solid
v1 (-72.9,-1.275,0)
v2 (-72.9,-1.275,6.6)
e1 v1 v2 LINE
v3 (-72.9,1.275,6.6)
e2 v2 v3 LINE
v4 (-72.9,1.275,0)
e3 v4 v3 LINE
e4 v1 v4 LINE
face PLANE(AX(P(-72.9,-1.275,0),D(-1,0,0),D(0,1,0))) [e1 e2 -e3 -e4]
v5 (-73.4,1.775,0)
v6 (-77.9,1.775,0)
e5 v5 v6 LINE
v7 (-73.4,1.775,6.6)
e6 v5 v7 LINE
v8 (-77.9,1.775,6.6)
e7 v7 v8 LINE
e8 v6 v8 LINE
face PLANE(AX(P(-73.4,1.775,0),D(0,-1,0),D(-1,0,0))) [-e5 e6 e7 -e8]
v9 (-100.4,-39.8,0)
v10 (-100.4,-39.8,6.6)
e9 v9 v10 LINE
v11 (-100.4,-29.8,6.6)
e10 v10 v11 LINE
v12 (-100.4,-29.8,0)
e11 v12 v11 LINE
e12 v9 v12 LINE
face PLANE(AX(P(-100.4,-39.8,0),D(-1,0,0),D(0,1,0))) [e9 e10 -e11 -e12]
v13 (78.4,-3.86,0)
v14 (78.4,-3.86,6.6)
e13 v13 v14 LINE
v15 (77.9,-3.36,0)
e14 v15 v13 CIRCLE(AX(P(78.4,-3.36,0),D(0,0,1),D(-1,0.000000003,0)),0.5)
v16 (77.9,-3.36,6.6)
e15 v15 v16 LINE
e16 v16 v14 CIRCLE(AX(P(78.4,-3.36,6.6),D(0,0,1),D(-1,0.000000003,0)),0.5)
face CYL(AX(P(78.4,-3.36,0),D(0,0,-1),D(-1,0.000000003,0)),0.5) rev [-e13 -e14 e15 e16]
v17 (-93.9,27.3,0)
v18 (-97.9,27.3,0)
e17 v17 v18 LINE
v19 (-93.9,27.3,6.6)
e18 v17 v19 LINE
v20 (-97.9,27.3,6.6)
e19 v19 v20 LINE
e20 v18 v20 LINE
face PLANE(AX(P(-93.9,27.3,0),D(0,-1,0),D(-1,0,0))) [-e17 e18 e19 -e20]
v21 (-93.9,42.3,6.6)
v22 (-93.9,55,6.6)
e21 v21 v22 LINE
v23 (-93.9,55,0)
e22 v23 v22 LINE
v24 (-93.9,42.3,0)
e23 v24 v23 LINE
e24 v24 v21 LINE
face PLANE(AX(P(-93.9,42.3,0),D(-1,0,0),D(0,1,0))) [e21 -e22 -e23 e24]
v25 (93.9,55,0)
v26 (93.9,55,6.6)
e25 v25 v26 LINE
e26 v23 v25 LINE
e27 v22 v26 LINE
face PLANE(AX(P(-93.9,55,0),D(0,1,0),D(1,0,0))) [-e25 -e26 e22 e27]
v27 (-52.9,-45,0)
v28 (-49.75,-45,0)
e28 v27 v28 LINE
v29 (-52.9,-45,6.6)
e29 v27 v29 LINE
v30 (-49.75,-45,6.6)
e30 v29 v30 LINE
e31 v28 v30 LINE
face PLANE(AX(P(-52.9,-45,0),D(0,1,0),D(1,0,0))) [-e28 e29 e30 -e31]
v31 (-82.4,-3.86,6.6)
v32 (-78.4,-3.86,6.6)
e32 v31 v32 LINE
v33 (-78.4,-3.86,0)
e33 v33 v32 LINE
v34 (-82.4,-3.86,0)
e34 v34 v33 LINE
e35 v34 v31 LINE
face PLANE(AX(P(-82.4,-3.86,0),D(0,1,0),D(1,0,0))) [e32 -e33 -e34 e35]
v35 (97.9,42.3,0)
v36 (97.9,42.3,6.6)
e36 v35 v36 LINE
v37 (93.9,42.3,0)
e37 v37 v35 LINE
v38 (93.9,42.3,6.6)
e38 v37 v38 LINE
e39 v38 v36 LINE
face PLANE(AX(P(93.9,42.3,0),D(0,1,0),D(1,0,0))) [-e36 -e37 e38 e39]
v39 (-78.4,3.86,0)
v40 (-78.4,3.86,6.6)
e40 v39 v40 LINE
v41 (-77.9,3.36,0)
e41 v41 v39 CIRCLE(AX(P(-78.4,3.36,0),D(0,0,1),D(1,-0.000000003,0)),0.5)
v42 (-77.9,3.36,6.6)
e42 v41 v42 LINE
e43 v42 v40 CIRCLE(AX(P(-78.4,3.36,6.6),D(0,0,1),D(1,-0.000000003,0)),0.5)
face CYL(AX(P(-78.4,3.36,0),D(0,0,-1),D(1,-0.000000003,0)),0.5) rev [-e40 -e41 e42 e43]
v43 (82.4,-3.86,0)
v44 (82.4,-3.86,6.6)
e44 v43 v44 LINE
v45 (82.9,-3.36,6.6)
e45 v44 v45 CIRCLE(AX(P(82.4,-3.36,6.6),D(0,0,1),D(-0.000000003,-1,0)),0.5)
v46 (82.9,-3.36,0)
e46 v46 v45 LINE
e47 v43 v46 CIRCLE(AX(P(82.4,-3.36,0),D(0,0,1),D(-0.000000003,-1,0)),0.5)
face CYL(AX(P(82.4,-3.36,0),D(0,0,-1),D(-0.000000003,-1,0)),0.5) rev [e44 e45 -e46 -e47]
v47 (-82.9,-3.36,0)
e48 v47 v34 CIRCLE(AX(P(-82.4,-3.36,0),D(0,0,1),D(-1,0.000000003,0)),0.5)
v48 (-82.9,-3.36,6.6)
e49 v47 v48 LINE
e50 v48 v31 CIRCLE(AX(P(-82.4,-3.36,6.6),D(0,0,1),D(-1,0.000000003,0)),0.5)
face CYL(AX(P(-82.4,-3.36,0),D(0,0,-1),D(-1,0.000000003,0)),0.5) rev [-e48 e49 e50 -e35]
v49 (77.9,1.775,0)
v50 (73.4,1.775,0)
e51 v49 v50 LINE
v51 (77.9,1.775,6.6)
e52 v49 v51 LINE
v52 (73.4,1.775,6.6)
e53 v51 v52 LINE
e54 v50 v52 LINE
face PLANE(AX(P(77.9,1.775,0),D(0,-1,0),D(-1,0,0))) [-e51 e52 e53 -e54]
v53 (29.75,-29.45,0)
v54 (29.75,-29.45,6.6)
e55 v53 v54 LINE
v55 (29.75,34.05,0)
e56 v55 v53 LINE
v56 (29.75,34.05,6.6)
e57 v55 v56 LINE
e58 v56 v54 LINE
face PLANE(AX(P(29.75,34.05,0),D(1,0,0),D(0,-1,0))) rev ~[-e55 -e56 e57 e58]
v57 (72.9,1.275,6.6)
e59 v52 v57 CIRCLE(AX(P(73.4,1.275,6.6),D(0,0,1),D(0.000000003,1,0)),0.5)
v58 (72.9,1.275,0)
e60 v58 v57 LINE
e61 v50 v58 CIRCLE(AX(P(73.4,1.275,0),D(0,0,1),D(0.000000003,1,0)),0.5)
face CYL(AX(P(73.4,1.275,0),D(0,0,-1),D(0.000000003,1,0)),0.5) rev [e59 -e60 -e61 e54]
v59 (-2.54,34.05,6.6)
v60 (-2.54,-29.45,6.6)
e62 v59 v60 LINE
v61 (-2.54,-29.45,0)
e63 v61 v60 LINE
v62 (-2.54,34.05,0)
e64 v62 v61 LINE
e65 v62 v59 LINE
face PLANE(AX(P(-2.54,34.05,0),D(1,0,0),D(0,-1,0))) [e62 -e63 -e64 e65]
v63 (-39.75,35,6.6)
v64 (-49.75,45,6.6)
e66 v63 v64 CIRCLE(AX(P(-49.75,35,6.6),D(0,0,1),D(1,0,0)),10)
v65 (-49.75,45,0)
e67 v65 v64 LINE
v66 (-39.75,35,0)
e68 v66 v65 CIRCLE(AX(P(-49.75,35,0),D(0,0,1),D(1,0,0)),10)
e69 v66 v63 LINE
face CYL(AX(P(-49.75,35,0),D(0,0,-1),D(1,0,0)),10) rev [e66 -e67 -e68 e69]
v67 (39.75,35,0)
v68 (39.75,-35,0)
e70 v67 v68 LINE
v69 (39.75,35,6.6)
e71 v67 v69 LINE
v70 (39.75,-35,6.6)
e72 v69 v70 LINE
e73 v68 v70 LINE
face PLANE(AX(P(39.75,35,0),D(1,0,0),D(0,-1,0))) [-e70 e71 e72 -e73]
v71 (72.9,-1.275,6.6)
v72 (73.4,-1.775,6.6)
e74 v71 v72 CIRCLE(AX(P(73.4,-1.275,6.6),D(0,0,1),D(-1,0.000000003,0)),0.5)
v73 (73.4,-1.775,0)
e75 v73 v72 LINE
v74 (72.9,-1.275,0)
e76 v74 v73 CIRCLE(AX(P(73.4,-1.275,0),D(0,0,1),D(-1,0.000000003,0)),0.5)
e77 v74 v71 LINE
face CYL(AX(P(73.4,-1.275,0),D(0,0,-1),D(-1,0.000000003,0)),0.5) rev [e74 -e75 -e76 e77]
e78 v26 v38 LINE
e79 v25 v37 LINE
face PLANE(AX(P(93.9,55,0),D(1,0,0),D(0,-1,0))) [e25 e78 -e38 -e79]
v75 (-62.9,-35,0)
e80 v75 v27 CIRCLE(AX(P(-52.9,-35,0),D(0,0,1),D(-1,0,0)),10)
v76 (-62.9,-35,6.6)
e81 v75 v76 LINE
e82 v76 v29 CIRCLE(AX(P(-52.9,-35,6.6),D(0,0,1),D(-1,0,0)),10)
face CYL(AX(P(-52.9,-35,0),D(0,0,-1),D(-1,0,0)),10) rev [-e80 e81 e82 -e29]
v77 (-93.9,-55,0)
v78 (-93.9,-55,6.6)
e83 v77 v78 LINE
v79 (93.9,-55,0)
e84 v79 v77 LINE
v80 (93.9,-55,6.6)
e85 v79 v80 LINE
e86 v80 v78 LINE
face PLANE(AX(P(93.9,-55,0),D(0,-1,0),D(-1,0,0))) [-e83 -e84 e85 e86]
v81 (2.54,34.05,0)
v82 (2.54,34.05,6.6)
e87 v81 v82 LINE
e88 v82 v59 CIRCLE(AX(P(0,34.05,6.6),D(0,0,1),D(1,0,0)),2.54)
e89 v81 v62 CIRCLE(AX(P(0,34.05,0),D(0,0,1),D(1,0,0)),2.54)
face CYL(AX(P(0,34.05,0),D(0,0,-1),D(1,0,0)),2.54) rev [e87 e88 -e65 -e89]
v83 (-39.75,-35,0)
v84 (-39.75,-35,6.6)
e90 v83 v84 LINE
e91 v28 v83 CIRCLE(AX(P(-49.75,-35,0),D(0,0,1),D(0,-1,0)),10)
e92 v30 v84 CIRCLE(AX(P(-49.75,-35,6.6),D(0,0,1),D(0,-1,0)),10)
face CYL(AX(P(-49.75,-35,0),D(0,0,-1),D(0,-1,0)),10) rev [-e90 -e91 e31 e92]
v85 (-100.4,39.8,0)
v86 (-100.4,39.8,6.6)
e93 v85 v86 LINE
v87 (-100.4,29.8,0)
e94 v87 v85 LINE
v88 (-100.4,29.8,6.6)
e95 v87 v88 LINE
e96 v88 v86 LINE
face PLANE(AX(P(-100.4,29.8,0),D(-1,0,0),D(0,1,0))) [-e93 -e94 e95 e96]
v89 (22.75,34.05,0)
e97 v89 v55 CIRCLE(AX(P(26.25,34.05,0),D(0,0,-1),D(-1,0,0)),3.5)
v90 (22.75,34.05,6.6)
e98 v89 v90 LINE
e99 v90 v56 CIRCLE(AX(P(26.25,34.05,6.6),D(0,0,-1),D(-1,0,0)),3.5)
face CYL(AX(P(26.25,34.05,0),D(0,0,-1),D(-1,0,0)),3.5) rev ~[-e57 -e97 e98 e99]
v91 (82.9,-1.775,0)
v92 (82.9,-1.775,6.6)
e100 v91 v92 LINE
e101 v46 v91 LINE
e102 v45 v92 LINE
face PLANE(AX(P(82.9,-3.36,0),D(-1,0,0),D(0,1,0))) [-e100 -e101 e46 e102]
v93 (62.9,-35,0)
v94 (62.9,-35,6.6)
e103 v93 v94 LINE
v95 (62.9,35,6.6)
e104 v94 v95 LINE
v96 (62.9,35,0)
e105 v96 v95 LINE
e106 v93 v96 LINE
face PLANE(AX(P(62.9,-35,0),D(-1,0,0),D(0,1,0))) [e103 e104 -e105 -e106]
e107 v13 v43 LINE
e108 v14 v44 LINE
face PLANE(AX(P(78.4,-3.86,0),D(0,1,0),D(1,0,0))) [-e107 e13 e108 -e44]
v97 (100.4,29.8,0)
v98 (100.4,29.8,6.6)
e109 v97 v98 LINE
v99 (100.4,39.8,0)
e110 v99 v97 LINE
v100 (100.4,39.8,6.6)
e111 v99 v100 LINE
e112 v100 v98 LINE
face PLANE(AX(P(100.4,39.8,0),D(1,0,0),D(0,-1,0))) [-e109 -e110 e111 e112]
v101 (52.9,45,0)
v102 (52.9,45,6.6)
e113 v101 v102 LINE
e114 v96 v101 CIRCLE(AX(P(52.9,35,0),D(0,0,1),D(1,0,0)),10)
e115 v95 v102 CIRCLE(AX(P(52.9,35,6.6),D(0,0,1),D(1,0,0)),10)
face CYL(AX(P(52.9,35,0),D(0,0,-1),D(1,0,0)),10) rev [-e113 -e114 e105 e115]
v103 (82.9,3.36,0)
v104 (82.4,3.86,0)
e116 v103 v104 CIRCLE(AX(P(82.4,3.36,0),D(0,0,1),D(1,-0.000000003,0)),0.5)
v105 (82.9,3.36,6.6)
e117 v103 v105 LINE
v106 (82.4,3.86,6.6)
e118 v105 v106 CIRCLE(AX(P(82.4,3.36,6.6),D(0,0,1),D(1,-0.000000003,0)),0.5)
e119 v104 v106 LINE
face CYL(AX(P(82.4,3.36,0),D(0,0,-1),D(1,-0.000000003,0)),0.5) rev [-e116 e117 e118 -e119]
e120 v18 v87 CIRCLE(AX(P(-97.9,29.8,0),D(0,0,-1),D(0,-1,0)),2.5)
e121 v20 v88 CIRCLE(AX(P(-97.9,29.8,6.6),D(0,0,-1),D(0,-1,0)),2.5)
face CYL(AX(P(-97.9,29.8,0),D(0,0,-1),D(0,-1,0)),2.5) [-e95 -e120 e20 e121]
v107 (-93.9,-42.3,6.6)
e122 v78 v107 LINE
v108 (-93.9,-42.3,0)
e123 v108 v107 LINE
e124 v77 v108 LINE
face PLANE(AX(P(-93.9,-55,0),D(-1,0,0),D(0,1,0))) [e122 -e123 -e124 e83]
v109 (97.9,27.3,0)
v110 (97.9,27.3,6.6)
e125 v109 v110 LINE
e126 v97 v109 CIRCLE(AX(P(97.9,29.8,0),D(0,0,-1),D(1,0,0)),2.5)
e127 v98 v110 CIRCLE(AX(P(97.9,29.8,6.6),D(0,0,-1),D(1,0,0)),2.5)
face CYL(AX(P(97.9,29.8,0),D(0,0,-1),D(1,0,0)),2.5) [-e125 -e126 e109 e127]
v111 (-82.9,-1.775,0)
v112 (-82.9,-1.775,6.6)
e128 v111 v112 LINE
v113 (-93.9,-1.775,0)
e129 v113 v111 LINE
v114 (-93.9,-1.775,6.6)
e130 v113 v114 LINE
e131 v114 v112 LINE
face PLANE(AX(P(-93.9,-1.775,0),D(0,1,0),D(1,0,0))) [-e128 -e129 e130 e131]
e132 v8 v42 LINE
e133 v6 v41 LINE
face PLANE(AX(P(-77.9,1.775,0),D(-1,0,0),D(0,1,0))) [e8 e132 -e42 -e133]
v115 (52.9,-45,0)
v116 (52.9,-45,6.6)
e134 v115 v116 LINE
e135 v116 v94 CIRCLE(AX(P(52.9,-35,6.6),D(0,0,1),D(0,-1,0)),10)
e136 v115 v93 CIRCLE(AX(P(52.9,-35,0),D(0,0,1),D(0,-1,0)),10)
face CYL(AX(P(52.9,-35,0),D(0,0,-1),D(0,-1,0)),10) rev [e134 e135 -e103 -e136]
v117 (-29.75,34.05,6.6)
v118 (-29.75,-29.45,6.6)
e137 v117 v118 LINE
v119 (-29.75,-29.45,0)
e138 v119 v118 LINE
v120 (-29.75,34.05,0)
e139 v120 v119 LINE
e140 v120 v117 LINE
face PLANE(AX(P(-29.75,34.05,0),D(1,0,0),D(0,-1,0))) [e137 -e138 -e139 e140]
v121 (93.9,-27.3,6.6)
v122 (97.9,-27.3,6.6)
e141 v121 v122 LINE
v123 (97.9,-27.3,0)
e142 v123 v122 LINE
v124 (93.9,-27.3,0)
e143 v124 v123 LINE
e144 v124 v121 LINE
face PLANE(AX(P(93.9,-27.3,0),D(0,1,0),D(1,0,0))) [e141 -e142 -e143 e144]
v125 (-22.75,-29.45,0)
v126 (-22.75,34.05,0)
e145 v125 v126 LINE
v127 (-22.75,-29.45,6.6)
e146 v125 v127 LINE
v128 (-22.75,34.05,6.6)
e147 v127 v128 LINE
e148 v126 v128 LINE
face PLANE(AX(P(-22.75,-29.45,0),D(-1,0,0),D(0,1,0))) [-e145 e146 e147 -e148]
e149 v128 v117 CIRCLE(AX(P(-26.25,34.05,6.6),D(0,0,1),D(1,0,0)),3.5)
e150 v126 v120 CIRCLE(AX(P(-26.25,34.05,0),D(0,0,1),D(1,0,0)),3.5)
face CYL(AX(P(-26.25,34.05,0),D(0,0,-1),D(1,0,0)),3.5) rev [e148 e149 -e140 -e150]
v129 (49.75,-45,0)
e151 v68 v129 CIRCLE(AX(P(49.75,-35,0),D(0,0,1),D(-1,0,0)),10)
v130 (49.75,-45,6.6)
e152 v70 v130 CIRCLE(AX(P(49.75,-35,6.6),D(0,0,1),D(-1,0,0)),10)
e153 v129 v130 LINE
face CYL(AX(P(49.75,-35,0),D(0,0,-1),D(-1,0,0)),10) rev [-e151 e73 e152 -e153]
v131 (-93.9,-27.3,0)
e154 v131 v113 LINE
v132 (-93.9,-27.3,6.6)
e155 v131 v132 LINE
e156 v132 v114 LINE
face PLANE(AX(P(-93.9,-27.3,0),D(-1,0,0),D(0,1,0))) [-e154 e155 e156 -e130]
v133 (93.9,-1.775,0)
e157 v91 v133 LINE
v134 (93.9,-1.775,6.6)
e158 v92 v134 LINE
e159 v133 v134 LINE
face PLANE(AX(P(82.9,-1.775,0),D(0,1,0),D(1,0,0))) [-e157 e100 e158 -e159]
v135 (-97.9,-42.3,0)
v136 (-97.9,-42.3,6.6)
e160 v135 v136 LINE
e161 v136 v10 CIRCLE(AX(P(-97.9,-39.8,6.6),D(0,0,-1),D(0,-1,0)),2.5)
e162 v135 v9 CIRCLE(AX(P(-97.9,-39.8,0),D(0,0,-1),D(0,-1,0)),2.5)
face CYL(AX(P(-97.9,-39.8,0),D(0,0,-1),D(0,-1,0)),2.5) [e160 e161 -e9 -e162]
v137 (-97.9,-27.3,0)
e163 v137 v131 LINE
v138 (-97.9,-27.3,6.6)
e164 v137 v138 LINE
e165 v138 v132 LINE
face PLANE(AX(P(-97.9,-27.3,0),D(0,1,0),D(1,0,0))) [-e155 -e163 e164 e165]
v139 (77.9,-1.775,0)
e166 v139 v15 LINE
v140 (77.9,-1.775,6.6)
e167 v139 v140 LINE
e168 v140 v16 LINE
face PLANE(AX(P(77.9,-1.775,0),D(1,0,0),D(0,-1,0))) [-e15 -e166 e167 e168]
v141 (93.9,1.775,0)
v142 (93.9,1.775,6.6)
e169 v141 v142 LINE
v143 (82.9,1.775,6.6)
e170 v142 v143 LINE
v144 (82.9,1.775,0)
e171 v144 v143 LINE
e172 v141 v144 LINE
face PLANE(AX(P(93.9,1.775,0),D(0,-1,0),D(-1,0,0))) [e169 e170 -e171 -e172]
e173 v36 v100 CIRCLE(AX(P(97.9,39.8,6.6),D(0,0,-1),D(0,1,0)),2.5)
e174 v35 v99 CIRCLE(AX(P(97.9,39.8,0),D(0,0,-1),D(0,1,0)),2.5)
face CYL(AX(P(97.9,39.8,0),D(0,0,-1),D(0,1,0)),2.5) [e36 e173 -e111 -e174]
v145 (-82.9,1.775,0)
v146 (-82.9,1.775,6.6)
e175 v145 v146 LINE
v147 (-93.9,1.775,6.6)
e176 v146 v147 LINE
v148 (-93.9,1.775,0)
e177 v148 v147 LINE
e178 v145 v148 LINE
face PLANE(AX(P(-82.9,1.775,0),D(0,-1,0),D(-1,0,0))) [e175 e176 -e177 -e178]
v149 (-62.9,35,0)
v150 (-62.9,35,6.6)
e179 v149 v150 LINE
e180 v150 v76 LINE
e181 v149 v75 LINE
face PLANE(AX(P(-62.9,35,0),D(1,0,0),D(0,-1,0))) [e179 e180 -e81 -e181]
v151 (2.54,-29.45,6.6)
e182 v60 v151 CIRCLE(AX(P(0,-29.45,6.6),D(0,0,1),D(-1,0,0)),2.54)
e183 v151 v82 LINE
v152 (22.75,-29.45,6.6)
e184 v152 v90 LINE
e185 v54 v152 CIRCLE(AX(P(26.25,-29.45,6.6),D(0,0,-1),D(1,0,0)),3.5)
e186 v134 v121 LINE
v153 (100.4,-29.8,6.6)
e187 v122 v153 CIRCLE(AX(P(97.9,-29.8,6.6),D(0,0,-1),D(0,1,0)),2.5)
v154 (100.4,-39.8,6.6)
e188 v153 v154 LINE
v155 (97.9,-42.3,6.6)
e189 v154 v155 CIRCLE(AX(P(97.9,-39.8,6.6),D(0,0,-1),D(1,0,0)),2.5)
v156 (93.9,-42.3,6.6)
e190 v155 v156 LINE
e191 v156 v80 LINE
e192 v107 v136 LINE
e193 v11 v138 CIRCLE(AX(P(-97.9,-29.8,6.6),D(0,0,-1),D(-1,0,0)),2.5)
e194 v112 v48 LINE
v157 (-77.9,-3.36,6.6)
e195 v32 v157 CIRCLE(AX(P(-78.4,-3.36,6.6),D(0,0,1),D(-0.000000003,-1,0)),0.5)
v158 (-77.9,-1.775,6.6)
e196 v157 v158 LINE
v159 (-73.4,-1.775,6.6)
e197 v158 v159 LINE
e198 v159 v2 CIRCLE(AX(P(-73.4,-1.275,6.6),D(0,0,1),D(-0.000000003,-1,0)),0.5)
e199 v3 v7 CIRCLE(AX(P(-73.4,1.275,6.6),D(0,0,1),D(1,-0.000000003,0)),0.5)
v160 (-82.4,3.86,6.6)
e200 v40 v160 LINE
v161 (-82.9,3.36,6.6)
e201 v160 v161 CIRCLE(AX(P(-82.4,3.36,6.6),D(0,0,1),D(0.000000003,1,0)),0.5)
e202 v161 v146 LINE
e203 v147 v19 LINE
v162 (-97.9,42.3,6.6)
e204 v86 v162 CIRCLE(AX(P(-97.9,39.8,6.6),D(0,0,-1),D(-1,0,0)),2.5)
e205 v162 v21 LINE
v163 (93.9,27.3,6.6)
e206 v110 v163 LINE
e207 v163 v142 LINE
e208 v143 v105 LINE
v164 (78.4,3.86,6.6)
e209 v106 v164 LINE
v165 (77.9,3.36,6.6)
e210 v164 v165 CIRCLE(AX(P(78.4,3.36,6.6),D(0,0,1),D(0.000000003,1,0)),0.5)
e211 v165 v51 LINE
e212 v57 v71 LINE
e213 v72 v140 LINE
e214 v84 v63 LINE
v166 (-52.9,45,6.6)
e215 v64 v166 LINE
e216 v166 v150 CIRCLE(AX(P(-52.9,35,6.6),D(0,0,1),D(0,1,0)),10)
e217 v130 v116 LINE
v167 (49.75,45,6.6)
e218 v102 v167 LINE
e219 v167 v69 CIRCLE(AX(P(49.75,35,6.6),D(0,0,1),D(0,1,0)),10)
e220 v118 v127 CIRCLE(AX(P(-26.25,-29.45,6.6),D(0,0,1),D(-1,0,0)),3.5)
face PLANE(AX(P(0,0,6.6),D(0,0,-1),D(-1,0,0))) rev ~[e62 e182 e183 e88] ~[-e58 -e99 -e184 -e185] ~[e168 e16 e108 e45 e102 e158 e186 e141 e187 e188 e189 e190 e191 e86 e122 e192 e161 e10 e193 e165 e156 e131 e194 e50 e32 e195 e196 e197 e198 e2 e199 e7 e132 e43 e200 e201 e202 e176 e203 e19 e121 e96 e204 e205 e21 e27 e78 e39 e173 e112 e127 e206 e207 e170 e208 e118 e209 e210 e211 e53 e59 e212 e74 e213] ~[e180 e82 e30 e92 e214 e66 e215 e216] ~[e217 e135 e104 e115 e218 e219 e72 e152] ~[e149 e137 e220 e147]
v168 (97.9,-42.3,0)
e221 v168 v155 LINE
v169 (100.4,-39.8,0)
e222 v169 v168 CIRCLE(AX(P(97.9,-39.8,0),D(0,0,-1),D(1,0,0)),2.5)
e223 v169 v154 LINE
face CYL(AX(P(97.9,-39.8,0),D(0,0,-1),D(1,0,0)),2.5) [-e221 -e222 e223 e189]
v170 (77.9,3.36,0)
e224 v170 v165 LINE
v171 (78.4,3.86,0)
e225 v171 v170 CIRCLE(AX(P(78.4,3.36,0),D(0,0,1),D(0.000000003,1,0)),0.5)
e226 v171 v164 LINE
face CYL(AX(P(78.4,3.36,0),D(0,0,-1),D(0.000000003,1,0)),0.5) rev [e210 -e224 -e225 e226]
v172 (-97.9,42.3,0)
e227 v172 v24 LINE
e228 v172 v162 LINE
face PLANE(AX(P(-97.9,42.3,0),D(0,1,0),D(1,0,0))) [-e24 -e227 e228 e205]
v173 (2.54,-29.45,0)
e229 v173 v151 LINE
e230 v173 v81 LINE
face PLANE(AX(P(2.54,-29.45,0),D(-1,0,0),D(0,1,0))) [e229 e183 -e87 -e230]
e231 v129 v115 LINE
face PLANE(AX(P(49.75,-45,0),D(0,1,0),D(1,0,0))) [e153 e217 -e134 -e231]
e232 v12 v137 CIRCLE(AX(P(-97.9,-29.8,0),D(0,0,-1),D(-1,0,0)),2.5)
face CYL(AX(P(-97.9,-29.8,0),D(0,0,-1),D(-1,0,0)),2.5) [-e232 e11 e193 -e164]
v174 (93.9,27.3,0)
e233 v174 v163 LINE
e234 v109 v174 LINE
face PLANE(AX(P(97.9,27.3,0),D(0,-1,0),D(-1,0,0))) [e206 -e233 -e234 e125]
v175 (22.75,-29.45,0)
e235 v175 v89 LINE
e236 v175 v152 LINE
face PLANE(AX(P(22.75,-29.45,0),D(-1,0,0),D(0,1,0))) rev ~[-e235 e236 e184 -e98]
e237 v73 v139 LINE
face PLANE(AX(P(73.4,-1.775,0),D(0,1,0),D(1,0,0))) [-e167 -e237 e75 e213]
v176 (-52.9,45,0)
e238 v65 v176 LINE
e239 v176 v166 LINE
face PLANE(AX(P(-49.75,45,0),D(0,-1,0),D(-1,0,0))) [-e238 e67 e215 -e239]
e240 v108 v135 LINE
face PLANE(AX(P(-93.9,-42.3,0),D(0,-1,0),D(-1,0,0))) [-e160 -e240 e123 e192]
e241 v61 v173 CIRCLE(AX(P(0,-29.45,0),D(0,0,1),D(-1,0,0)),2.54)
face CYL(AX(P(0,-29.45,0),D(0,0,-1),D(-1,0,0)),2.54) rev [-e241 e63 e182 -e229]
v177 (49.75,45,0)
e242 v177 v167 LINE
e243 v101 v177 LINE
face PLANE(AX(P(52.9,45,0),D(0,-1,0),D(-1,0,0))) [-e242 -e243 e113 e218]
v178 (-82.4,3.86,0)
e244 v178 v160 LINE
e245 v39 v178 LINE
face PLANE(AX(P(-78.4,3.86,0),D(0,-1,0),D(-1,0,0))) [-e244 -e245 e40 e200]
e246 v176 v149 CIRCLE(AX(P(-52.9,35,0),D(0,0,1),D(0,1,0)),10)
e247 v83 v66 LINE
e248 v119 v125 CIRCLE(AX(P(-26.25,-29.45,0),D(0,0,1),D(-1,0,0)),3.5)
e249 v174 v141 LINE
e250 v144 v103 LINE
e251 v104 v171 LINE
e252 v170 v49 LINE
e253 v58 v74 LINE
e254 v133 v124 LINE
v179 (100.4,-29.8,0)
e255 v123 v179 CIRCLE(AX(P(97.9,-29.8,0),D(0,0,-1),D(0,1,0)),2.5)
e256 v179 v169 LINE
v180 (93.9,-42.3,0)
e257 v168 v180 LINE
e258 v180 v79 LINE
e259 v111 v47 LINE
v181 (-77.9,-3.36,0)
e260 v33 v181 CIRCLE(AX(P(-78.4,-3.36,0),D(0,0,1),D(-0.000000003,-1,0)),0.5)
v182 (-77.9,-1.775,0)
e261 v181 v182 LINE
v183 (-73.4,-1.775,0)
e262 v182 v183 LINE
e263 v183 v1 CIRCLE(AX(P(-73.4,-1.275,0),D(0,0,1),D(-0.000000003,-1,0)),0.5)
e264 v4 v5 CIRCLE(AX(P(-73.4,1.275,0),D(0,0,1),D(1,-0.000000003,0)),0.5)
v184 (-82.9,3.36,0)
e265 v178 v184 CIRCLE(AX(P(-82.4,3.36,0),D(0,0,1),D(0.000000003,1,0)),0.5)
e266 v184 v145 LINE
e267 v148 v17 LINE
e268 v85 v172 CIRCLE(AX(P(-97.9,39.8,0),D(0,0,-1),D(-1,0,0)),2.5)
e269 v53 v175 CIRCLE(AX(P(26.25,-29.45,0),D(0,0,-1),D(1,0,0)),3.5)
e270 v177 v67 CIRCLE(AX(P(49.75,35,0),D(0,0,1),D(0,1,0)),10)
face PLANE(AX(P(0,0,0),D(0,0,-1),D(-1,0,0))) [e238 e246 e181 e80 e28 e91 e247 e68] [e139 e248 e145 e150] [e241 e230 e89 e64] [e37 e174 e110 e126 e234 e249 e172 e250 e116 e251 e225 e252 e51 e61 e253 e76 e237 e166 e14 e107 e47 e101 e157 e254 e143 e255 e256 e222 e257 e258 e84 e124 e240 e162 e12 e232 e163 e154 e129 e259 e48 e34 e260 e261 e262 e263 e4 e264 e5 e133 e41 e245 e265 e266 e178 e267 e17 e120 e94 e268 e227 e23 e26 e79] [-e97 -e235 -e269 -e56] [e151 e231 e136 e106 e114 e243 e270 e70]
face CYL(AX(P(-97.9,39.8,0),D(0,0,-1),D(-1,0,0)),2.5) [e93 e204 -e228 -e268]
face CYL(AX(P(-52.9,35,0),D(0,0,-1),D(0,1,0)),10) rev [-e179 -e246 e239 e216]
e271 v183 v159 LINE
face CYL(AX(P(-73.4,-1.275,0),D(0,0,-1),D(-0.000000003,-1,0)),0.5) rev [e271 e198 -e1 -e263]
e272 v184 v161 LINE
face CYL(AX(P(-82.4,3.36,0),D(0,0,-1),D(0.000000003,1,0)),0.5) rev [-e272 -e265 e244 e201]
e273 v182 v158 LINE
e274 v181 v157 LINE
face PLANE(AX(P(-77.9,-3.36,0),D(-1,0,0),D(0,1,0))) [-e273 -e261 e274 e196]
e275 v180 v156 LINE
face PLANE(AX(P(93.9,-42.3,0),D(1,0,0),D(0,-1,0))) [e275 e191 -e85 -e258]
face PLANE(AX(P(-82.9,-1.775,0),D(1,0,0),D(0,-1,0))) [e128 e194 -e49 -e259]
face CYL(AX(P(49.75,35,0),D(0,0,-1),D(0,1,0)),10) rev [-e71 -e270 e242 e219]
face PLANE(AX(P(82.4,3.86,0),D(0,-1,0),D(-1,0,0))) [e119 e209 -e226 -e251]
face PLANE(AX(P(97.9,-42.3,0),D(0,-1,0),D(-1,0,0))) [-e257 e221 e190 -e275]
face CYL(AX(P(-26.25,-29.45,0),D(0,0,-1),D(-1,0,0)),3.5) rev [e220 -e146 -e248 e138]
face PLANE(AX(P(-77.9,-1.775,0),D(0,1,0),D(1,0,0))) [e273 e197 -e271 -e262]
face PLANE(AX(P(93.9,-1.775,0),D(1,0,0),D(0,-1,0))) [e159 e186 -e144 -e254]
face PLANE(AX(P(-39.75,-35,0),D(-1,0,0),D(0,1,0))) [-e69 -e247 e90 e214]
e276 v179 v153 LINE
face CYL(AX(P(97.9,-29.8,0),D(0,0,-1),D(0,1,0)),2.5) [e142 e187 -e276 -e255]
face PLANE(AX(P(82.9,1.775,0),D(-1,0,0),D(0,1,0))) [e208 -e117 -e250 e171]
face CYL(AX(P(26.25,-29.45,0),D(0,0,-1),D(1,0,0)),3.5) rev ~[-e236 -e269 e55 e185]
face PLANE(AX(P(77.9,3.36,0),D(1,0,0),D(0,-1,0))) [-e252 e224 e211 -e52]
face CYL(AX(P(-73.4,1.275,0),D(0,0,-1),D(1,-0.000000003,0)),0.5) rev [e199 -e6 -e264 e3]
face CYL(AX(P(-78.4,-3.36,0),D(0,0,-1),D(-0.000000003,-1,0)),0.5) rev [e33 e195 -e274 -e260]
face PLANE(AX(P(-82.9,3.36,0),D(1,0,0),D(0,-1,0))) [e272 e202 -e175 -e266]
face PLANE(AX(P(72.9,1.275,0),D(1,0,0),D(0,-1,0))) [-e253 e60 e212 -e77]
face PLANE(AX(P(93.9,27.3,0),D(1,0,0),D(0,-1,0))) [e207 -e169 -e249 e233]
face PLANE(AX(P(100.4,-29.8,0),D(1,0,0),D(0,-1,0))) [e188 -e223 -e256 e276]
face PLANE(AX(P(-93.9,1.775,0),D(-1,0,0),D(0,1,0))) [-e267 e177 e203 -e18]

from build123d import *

# Parameters (mm, degrees)
BOSS_EXTRUDE1_DEPTH = 6.6


with BuildPart() as part:
    # Model → Boss-Extrude1 (new body)
    with BuildSketch(Plane.XY):
        with BuildLine():
            Line((72.9, 1.275), (72.9, -1.275))
            ThreePointArc((72.9, -1.275), (73.046446609, -1.628553391), (73.4, -1.775))
            Line((73.4, -1.775), (77.9, -1.775))
            Line((77.9, -1.775), (77.9, -3.36))
            ThreePointArc((77.9, -3.36), (78.046446609, -3.713553391), (78.4, -3.86))
            Line((78.4, -3.86), (82.4, -3.86))
            ThreePointArc((82.4, -3.86), (82.753553391, -3.713553391), (82.9, -3.36))
            Line((82.9, -3.36), (82.9, -1.775))
            Line((82.9, -1.775), (93.9, -1.775))
            Line((93.9, -1.775), (93.9, -27.3))
            Line((93.9, -27.3), (97.9, -27.3))
            ThreePointArc((97.9, -27.3), (99.667766953, -28.032233047), (100.4, -29.8))
            Line((100.4, -29.8), (100.4, -39.8))
            ThreePointArc((100.4, -39.8), (99.667766953, -41.567766953), (97.9, -42.3))
            Line((97.9, -42.3), (93.9, -42.3))
            Line((93.9, -42.3), (93.9, -55))
            Line((93.9, -55), (-93.9, -55))
            Line((-93.9, -55), (-93.9, -42.3))
            Line((-93.9, -42.3), (-97.9, -42.3))
            ThreePointArc((-97.9, -42.3), (-99.667766953, -41.567766953), (-100.4, -39.8))
            Line((-100.4, -39.8), (-100.4, -29.8))
            ThreePointArc((-100.4, -29.8), (-99.667766953, -28.032233047), (-97.9, -27.3))
            Line((-97.9, -27.3), (-93.9, -27.3))
            Line((-93.9, -27.3), (-93.9, -1.775))
            Line((-93.9, -1.775), (-82.9, -1.775))
            Line((-82.9, -1.775), (-82.9, -3.36))
            ThreePointArc((-82.9, -3.36), (-82.753553391, -3.713553391), (-82.4, -3.86))
            Line((-82.4, -3.86), (-78.4, -3.86))
            ThreePointArc((-78.4, -3.86), (-78.046446609, -3.713553391), (-77.9, -3.36))
            Line((-77.9, -3.36), (-77.9, -1.775))
            Line((-77.9, -1.775), (-73.4, -1.775))
            ThreePointArc((-73.4, -1.775), (-73.046446609, -1.628553391), (-72.9, -1.275))
            Line((-72.9, -1.275), (-72.9, 1.275))
            ThreePointArc((-72.9, 1.275), (-73.046446609, 1.628553391), (-73.4, 1.775))
            Line((-73.4, 1.775), (-77.9, 1.775))
            Line((-77.9, 1.775), (-77.9, 3.36))
            ThreePointArc((-77.9, 3.36), (-78.046446609, 3.713553391), (-78.4, 3.86))
            Line((-78.4, 3.86), (-82.4, 3.86))
            ThreePointArc((-82.4, 3.86), (-82.753553391, 3.713553391), (-82.9, 3.36))
            Line((-82.9, 3.36), (-82.9, 1.775))
            Line((-82.9, 1.775), (-93.9, 1.775))
            Line((-93.9, 1.775), (-93.9, 27.3))
            Line((-93.9, 27.3), (-97.9, 27.3))
            ThreePointArc((-97.9, 27.3), (-99.667766953, 28.032233047), (-100.4, 29.8))
            Line((-100.4, 29.8), (-100.4, 39.8))
            ThreePointArc((-100.4, 39.8), (-99.667766953, 41.567766953), (-97.9, 42.3))
            Line((-97.9, 42.3), (-93.9, 42.3))
            Line((-93.9, 42.3), (-93.9, 55))
            Line((-93.9, 55), (93.9, 55))
            Line((93.9, 55), (93.9, 42.3))
            Line((93.9, 42.3), (97.9, 42.3))
            ThreePointArc((97.9, 42.3), (99.667766953, 41.567766953), (100.4, 39.8))
            Line((100.4, 39.8), (100.4, 29.8))
            ThreePointArc((100.4, 29.8), (99.667766953, 28.032233047), (97.9, 27.3))
            Line((97.9, 27.3), (93.9, 27.3))
            Line((93.9, 27.3), (93.9, 1.775))
            Line((93.9, 1.775), (82.9, 1.775))
            Line((82.9, 1.775), (82.9, 3.36))
            ThreePointArc((82.9, 3.36), (82.753553391, 3.713553391), (82.4, 3.86))
            Line((82.4, 3.86), (78.4, 3.86))
            ThreePointArc((78.4, 3.86), (78.046446609, 3.713553391), (77.9, 3.36))
            Line((77.9, 3.36), (77.9, 1.775))
            Line((77.9, 1.775), (73.4, 1.775))
            ThreePointArc((73.4, 1.775), (73.046446609, 1.628553391), (72.9, 1.275))
        make_face()
        with BuildLine():
            Line((29.75, 34.05), (29.75, -29.45))
            ThreePointArc((29.75, -29.45), (26.25, -32.95), (22.75, -29.45))
            Line((22.75, -29.45), (22.75, 34.05))
            ThreePointArc((22.75, 34.05), (26.25, 37.55), (29.75, 34.05))
        make_face(mode=Mode.SUBTRACT)
        with BuildLine():
            Line((-29.75, 34.05), (-29.75, -29.45))
            ThreePointArc((-29.75, -29.45), (-26.25, -32.95), (-22.75, -29.45))
            Line((-22.75, -29.45), (-22.75, 34.05))
            ThreePointArc((-22.75, 34.05), (-26.25, 37.55), (-29.75, 34.05))
        make_face(mode=Mode.SUBTRACT)
        with BuildLine():
            Line((2.54, -29.45), (2.54, 34.05))
            ThreePointArc((2.54, 34.05), (0, 36.59), (-2.54, 34.05))
            Line((-2.54, 34.05), (-2.54, -29.45))
            ThreePointArc((-2.54, -29.45), (0, -31.99), (2.54, -29.45))
        make_face(mode=Mode.SUBTRACT)
        with BuildLine():
            Line((-39.75, -35), (-39.75, 35))
            ThreePointArc((-39.75, 35), (-42.678932188, 42.071067812), (-49.75, 45))
            Line((-49.75, 45), (-52.9, 45))
            ThreePointArc((-52.9, 45), (-59.971067812, 42.071067812), (-62.9, 35))
            Line((-62.9, 35), (-62.9, -35))
            ThreePointArc((-62.9, -35), (-59.971067812, -42.071067812), (-52.9, -45))
            Line((-52.9, -45), (-49.75, -45))
            ThreePointArc((-49.75, -45), (-42.678932188, -42.071067812), (-39.75, -35))
        make_face(mode=Mode.SUBTRACT)
        with BuildLine():
            Line((62.9, -35), (62.9, 35))
            ThreePointArc((62.9, 35), (59.971067812, 42.071067812), (52.9, 45))
            Line((52.9, 45), (49.75, 45))
            ThreePointArc((49.75, 45), (42.678932188, 42.071067812), (39.75, 35))
            Line((39.75, 35), (39.75, -35))
            ThreePointArc((39.75, -35), (42.678932188, -42.071067812), (49.75, -45))
            Line((49.75, -45), (52.9, -45))
            ThreePointArc((52.9, -45), (59.971067812, -42.071067812), (62.9, -35))
        make_face(mode=Mode.SUBTRACT)
    extrude(amount=BOSS_EXTRUDE1_DEPTH)


solid = part.part
